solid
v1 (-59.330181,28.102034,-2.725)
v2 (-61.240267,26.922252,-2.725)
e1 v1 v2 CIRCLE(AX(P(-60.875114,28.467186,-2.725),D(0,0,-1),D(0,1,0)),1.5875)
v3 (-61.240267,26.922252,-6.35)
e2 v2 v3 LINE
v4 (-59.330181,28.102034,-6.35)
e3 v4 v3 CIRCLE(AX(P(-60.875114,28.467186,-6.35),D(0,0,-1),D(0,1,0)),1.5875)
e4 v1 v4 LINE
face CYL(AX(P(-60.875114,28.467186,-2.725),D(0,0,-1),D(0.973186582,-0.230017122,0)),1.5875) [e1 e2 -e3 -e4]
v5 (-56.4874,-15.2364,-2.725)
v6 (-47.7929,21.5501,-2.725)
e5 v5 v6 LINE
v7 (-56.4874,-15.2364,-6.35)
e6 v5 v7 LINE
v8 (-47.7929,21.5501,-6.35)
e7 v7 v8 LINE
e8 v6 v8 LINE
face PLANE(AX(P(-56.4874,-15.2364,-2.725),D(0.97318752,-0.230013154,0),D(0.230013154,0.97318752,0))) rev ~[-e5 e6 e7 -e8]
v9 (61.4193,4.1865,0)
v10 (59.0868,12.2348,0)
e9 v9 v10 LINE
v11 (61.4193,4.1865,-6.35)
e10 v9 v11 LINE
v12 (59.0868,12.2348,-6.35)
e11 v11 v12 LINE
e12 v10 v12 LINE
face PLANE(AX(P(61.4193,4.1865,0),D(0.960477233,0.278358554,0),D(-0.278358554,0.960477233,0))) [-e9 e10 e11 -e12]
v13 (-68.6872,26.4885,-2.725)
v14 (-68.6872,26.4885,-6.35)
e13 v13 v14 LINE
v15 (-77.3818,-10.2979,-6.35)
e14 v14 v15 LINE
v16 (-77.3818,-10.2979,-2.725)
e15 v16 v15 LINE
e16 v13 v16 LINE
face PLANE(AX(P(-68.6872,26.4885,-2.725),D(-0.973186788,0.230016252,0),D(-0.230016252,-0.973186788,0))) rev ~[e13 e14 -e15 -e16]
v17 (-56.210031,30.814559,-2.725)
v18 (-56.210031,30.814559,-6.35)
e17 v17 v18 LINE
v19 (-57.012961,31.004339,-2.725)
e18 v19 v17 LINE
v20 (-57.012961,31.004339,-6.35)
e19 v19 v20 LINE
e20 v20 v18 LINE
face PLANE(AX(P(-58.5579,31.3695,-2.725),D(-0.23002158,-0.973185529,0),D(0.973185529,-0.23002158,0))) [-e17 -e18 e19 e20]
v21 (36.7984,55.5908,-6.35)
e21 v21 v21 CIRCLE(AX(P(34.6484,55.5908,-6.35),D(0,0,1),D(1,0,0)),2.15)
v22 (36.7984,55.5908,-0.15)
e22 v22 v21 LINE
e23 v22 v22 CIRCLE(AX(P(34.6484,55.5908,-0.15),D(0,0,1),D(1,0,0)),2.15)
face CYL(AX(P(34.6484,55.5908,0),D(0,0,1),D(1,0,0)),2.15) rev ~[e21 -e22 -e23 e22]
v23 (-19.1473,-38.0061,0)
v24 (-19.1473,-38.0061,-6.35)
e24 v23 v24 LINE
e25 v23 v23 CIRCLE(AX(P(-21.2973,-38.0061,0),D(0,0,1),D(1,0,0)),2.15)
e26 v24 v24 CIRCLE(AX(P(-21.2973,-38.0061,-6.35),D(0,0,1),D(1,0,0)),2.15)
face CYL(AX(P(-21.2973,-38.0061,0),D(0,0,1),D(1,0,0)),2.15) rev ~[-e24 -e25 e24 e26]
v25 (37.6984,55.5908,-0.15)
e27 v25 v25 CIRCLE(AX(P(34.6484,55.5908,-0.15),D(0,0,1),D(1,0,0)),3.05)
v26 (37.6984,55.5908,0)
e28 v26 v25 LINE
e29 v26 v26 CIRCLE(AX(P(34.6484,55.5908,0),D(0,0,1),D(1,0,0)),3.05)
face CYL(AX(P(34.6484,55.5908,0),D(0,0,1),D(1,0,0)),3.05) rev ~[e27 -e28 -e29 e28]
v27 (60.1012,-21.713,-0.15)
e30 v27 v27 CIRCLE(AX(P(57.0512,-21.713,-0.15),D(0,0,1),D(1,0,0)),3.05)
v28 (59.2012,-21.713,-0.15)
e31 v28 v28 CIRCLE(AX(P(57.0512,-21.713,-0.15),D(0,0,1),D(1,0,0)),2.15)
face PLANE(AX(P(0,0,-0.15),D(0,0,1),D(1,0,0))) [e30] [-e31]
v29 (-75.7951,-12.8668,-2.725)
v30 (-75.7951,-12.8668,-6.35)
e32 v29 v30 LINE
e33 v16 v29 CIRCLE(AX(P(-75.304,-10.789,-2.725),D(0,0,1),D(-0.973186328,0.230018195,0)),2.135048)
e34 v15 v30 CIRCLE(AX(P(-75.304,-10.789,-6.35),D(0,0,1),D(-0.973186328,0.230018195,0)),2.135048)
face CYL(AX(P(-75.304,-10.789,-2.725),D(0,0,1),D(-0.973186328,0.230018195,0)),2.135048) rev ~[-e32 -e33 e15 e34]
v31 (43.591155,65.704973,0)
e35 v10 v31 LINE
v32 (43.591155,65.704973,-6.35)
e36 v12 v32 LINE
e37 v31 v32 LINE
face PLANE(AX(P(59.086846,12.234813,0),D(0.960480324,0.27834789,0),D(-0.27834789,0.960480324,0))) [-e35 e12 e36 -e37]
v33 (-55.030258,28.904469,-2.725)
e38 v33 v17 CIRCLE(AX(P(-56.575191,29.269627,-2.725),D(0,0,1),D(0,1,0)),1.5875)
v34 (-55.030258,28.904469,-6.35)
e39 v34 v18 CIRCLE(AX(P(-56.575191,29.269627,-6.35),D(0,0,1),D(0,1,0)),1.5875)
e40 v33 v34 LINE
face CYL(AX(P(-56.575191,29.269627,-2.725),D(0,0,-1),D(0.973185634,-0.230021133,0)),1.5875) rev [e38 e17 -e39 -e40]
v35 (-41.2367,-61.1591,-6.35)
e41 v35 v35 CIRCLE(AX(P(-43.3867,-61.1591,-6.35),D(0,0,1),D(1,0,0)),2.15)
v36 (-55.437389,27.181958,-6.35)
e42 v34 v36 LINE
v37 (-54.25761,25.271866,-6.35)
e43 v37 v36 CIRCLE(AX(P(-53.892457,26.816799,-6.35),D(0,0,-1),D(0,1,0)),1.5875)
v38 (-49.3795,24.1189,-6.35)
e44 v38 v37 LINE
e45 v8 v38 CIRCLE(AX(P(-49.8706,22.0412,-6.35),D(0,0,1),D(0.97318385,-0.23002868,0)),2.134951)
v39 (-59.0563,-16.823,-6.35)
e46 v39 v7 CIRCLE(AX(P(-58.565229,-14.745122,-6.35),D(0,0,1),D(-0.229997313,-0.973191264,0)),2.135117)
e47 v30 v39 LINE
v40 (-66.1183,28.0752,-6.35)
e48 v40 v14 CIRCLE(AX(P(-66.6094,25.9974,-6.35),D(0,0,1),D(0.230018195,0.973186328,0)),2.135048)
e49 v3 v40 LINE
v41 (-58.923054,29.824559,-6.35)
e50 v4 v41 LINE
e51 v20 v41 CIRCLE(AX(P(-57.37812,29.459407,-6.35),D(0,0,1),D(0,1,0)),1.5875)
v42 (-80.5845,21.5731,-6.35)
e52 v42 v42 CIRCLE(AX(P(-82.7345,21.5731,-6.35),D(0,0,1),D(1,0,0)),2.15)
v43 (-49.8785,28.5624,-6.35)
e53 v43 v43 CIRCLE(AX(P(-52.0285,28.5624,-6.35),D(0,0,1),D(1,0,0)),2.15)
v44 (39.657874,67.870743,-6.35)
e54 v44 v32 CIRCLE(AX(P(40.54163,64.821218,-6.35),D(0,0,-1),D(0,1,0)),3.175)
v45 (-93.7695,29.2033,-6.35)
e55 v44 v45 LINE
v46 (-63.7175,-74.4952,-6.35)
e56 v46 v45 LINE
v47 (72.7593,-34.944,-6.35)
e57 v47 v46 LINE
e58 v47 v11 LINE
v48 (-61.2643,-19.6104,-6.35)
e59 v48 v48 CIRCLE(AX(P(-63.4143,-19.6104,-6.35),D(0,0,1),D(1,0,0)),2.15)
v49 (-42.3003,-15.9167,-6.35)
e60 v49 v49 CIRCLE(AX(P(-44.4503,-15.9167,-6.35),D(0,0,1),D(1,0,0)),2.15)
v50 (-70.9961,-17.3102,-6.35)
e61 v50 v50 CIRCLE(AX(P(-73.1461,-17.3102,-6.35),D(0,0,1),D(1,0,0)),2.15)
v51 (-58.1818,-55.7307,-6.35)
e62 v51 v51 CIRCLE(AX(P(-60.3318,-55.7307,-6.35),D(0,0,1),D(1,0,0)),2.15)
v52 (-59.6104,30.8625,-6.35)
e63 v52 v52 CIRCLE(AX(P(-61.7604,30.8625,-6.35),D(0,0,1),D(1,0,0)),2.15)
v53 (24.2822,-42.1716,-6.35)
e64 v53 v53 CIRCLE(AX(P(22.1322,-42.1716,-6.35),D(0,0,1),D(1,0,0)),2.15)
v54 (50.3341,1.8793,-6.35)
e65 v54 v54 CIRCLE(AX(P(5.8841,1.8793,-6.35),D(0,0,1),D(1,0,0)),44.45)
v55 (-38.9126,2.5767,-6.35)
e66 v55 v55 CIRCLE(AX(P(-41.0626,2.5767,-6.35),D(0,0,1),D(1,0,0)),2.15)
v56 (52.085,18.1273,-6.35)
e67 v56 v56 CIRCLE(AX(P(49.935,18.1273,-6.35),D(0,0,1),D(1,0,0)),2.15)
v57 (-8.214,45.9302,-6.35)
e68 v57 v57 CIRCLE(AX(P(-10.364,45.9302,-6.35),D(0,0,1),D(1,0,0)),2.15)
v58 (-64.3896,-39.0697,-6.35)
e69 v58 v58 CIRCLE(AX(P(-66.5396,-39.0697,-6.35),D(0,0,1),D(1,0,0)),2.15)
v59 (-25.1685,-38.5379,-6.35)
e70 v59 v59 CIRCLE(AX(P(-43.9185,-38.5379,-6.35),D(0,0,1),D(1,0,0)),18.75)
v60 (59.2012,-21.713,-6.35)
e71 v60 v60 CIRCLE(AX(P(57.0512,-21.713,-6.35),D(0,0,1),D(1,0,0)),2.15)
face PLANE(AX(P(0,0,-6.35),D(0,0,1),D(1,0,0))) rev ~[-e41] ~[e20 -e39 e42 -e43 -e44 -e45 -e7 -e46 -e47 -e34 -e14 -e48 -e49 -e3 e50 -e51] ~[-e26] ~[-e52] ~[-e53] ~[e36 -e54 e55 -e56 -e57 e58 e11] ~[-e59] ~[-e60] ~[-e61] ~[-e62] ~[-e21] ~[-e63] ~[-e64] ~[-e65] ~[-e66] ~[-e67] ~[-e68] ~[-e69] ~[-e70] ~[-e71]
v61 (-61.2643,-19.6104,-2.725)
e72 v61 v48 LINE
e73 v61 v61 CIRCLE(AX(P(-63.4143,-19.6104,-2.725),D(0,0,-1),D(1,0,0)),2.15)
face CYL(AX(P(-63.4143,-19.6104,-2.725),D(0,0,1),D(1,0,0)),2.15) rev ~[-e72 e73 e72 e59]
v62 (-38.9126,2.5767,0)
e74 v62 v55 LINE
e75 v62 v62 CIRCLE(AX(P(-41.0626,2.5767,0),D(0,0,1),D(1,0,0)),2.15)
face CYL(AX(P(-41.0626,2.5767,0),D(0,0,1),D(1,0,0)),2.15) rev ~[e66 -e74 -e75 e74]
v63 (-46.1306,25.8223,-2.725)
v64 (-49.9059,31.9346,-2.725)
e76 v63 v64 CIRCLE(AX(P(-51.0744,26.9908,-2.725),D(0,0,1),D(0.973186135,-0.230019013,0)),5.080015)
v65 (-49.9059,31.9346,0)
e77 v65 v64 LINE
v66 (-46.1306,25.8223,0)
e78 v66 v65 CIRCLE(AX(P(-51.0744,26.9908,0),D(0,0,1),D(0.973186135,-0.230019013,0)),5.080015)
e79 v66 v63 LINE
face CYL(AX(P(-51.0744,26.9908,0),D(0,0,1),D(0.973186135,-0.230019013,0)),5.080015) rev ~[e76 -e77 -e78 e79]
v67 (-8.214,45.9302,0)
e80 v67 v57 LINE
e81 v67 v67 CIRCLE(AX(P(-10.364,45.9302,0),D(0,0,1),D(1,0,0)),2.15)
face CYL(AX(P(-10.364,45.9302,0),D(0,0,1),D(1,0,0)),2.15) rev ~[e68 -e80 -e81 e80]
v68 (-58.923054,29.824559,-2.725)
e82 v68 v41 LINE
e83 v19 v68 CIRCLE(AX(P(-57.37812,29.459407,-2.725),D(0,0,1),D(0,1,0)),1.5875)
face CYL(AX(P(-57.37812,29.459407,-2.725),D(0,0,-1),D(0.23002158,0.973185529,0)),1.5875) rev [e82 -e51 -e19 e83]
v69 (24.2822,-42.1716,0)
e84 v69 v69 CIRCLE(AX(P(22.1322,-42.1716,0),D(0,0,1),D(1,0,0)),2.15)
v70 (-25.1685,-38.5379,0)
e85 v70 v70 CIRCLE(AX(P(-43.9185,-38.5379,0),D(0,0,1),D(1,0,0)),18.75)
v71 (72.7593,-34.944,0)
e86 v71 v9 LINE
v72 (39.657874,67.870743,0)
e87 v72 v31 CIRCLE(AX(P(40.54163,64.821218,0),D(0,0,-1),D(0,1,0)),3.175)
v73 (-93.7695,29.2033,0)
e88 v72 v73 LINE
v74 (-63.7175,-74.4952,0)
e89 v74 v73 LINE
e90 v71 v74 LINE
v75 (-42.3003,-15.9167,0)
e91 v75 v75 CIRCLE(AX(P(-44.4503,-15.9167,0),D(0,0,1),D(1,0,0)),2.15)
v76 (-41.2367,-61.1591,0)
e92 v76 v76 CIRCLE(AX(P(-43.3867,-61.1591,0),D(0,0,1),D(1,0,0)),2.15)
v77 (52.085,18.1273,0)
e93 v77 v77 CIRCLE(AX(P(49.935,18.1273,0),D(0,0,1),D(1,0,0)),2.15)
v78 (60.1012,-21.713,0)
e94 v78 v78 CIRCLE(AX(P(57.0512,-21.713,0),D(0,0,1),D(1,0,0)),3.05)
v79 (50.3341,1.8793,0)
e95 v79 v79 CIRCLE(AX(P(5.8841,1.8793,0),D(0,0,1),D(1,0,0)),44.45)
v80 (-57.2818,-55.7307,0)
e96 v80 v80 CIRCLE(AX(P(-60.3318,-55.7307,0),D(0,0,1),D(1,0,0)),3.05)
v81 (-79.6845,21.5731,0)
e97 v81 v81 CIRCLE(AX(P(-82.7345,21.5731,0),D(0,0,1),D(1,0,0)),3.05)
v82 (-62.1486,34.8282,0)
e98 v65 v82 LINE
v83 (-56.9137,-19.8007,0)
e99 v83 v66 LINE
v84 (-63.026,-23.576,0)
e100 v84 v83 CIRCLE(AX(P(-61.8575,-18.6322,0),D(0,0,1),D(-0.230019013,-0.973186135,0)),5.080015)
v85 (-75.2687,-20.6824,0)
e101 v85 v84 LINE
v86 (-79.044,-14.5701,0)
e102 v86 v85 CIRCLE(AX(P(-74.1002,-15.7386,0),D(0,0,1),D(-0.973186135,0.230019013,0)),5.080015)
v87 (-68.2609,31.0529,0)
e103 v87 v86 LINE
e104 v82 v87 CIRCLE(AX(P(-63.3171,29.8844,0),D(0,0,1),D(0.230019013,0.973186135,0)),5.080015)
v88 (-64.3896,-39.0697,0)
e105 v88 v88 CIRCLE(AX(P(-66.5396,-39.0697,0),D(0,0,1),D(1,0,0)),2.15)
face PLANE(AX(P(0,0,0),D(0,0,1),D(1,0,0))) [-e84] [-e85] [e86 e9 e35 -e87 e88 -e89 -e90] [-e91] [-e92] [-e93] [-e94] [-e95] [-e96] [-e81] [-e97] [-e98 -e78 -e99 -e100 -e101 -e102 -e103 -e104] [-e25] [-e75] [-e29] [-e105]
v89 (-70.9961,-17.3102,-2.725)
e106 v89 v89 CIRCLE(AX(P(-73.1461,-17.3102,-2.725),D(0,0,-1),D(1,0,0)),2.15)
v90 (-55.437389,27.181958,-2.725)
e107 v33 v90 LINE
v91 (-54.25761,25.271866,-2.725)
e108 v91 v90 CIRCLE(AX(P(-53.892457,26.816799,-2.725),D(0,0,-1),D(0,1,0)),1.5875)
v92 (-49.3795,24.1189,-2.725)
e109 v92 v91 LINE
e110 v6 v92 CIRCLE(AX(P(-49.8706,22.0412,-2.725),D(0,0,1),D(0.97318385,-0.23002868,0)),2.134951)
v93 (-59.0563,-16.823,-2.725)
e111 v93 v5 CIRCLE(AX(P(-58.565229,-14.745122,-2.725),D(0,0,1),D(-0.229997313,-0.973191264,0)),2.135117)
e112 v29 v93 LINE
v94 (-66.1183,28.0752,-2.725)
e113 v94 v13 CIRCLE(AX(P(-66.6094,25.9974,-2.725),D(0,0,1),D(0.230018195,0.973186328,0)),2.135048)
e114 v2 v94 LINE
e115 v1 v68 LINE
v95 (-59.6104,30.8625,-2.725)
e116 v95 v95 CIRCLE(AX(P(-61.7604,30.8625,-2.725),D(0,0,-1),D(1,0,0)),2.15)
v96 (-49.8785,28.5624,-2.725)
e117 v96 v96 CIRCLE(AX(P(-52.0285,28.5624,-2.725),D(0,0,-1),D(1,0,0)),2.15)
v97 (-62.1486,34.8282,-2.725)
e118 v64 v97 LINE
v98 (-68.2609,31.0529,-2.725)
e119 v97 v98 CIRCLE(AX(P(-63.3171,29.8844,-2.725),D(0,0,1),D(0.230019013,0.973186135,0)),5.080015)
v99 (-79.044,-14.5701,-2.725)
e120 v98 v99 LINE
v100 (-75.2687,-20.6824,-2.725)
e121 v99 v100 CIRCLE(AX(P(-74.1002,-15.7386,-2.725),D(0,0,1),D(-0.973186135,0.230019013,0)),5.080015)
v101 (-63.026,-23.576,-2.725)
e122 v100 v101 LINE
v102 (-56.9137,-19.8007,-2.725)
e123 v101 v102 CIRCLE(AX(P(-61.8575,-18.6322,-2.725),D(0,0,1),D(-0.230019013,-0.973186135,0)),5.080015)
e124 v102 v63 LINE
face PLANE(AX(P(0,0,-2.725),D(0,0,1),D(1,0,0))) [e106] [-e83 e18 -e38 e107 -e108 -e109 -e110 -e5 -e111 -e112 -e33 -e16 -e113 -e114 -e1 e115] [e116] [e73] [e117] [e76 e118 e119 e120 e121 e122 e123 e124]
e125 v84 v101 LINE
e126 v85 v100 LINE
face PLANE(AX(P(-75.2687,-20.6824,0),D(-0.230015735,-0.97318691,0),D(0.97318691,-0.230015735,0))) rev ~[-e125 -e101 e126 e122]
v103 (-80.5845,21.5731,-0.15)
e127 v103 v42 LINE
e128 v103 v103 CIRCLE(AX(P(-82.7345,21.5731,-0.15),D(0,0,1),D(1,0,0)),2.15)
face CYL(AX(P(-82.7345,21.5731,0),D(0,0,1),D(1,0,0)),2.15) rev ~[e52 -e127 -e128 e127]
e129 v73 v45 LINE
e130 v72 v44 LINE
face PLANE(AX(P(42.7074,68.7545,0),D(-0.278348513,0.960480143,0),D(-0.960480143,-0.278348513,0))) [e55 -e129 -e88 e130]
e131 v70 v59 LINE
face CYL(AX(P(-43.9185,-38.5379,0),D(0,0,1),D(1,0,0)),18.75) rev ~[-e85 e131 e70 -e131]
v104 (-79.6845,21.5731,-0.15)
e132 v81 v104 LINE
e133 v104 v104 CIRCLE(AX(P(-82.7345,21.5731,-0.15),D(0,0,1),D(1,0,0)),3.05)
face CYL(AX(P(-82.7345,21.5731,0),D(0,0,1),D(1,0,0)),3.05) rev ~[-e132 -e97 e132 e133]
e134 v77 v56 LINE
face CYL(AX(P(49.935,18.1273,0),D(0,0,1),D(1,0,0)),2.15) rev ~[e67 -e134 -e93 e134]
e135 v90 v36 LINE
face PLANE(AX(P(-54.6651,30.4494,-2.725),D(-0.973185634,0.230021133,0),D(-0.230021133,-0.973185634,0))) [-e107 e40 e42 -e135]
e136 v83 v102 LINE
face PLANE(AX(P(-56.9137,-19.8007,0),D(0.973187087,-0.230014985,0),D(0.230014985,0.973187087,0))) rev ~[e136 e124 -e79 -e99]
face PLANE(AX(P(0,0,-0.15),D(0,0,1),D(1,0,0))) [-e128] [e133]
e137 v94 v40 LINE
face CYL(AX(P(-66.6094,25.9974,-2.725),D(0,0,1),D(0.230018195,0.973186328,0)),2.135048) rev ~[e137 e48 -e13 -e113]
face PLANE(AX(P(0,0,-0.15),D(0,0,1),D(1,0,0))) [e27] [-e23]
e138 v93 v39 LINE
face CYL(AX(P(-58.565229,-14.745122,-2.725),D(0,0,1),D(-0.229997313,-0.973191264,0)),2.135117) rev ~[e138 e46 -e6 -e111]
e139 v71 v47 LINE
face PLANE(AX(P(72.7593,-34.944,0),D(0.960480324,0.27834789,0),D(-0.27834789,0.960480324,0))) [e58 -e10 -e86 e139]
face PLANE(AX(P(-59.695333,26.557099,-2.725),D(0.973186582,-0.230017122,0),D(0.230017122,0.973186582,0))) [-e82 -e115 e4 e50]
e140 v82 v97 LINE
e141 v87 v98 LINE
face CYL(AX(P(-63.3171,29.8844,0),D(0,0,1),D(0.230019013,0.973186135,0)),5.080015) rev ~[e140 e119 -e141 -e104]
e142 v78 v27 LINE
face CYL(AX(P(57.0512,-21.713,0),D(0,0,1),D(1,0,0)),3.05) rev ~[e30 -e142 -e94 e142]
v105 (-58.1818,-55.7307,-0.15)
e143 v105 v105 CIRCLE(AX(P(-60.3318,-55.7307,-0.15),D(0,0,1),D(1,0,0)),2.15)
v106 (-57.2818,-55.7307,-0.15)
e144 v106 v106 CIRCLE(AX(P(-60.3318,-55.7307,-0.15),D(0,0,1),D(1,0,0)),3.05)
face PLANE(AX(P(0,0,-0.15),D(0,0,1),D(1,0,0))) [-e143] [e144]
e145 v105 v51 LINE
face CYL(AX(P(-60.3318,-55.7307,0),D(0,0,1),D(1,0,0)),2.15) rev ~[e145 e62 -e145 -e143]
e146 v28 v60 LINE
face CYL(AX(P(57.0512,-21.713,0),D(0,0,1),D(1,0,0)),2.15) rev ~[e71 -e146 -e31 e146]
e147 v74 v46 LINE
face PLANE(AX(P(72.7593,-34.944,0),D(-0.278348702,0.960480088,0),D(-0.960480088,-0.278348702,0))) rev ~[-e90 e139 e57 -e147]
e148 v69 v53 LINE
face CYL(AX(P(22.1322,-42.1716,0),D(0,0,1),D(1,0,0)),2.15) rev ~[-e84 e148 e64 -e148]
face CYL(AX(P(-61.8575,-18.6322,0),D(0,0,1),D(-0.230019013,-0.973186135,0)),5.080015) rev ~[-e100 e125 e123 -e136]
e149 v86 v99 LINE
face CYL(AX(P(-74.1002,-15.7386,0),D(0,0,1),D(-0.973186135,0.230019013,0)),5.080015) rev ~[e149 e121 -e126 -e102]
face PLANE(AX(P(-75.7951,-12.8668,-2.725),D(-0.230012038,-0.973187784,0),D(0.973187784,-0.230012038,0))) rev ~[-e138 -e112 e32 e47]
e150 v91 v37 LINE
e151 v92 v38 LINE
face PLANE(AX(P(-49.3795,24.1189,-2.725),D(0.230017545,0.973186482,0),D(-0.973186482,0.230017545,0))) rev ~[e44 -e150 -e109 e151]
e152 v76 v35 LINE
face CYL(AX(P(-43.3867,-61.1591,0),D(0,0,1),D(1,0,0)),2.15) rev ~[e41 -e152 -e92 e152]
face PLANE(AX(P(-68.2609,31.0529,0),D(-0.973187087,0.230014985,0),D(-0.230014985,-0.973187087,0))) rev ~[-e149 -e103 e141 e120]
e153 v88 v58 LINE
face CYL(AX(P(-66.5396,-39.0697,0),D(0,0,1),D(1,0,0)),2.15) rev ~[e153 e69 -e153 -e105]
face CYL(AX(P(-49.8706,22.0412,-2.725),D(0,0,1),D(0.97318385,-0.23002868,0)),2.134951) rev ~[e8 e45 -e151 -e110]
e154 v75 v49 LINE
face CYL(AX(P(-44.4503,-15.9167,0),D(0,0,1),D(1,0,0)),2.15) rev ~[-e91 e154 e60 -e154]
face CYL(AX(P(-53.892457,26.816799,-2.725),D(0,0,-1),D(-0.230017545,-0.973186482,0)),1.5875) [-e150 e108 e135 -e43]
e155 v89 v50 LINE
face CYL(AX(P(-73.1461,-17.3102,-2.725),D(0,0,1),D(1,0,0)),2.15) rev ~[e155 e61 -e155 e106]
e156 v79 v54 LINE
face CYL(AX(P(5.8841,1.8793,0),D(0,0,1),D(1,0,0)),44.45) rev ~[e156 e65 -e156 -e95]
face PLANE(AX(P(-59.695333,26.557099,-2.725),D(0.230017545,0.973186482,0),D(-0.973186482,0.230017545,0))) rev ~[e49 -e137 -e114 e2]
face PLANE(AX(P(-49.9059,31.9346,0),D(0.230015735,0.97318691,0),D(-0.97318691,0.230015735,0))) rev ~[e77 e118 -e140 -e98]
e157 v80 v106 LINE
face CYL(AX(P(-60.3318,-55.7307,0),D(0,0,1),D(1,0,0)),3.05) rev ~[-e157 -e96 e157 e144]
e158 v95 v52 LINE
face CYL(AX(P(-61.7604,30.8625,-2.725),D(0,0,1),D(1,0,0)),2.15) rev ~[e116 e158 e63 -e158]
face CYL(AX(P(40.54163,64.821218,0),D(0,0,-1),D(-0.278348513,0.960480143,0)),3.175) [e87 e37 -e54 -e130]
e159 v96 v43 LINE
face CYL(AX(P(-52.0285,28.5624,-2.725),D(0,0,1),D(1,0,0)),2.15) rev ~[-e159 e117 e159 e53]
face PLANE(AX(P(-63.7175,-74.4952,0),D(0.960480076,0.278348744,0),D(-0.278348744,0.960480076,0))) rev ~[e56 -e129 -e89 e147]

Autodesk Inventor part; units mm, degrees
ref_plane "YZ Plane" through (0, 0, 0) normal (1, 0, 0) x (0, 1, 0)
ref_plane "XZ Plane" through (0, 0, 0) normal (0, 1, 0) x (-1, 0, 0)
ref_plane "XY Plane" through (0, 0, 0) normal (0, 0, 1) x (1, 0, 0)
sketch "Sketch1" plane through (0, 0, 0) normal (0, 0, 1) x (1, 0, 0)
  circle A0 centre (49.935, 18.1273) radius 2.15 projected
  circle A1 centre (22.1322, -42.1716) radius 2.15 projected
  circle A2 centre (-10.364, 45.9302) radius 2.15 projected
  circle A3 centre (-21.2973, -38.0061) radius 2 construction
  circle A4 centre (-43.3867, -61.1591) radius 2 construction
  circle A5 centre (-66.5396, -39.0697) radius 2 construction
  circle A6 centre (-44.4503, -15.9167) radius 2 construction
  circle A7 centre (-21.2973, -38.0061) radius 2.15
  circle A8 centre (-43.3867, -61.1591) radius 2.15
  circle A9 centre (-66.5396, -39.0697) radius 2.15
  circle A10 centre (-44.4503, -15.9167) radius 2.15
  line L0 (72.7593, -34.944) -> (-63.7175, -74.4952)
  circle A11 centre (22.1322, -42.1716) radius 7.15 construction
  circle A12 centre (-43.3867, -61.1591) radius 7.15 construction
  circle A13 centre (49.935, 18.1273) radius 7.15 construction
  circle A14 centre (-10.364, 45.9302) radius 7.15 construction
  line L1 (72.7593, -34.944) -> (42.7074, 68.7545)
  line L2 (61.4193, 4.1865) -> (59.0868, 12.2348)
  line L3 (42.7074, 68.7545) -> (-93.7695, 29.2033)
  circle A15 centre (-66.5396, -39.0697) radius 7.15 construction
  line L4 (-63.7175, -74.4952) -> (-93.7695, 29.2033)
  arc A16 (26.2989, -37.6054) -> (49.1681, 11.9935) centre (5.8841, 1.8793) ccw construction
  circle A17 centre (5.8841, 1.8793) radius 44.45
  arc A18 (-43.4778, -57.2827) -> (-49.2361, -56.518) centre (-43.9185, -38.5379) ccw construction
  circle A19 centre (-43.9185, -38.5379) radius 18.75
  circle A20 centre (-41.0626, 2.5767) radius 2.15 projected
  point P0 (0, 0)
  dimension "d4" = 4.3
  dimension "d5" = 4.3
  dimension "d6" = 4.3
  dimension "d7" = 4.3
  dimension "d8" = 5
  dimension "d10" = 0
  dimension "d11" = 5
  dimension "d12" = 5
  dimension "d13" = 0
  dimension "d14" = 5
  dimension "d15" = 5
extrude "Extrusion1" add sketch "Sketch1" against normal blind 6.35
sketch "Sketch3" plane through (0, 0, 0) normal (0, 0, 1) x (1, 0, 0)
  line L0 (-61.3029, 24.5377) -> (-55.2691, 23.1116)
  line L1 (-55.2691, 23.1116) -> (-55.1667, 23.5451)
  arc A0 (-55.1667, 23.5451) -> (-61.2004, 24.9712) centre (-59.9421, 16.8177) ccw
  line L2 (-61.2004, 24.9712) -> (-61.3029, 24.5377)
  arc A1 (-66.2644, 27.4572) -> (-68.0692, 26.3425) centre (-66.6094, 25.9974) ccw
  line L3 (-66.2644, 27.4572) -> (-49.5256, 23.501)
  arc A2 (-48.4108, 21.6962) -> (-49.5256, 23.501) centre (-49.8706, 22.0412) ccw
  line L4 (-48.4108, 21.6962) -> (-57.1054, -15.0903)
  arc A3 (-58.9102, -16.2051) -> (-57.1054, -15.0903) centre (-58.5652, -14.7453) ccw
  line L5 (-58.9102, -16.2051) -> (-75.649, -12.2488)
  arc A4 (-76.7638, -10.444) -> (-75.649, -12.2488) centre (-75.304, -10.789) ccw
  line L6 (-76.7638, -10.444) -> (-68.0692, 26.3425)
  line L7 (-48.0658, 23.1559) -> (-67.7242, 27.8022)
  line L8 (-67.7242, 27.8022) -> (-66.1486, 34.4686)
  line L9 (-66.1486, 34.4686) -> (-46.4902, 29.8223)
  line L10 (-46.4902, 29.8223) -> (-48.0658, 23.1559)
  line L11 (-48.0658, 23.1559) -> (-48.4722, 21.4367)
  line L12 (-67.7242, 27.8022) -> (-68.3933, 24.9712)
  line L13 (-52.7581, 3.3029) -> (-72.4165, 7.9492) construction
  line L14 (-75.649, -12.2488) -> (-58.9102, -16.2051)
  line L15 (-57.4504, -16.5501) -> (-77.1088, -11.9038)
  line L16 (-77.1088, -11.9038) -> (-78.6844, -18.5701)
  line L17 (-78.6844, -18.5701) -> (-59.026, -23.2164)
  line L18 (-59.026, -23.2164) -> (-57.4504, -16.5501)
  line L19 (-57.4504, -16.5501) -> (-57.1054, -15.0903)
  line L20 (-77.1088, -11.9038) -> (-76.7638, -10.444)
  line L21 (-59.026, -23.2164) -> (-78.6844, -18.5701)
  line L22 (-78.6844, -18.5701) -> (-66.1486, 34.4686)
  line L23 (-66.1486, 34.4686) -> (-46.4902, 29.8223)
  line L24 (-46.4902, 29.8223) -> (-59.026, -23.2164)
  line L25 (-56.9137, -19.8007) -> (-46.1306, 25.8223)
  line L26 (-49.9059, 31.9346) -> (-62.1486, 34.8282)
  line L27 (-68.2609, 31.0529) -> (-79.044, -14.5701)
  line L28 (-75.2687, -20.6824) -> (-63.026, -23.576)
  arc A5 (-46.1306, 25.8223) -> (-49.9059, 31.9346) centre (-51.0744, 26.9908) ccw
  arc A6 (-62.1486, 34.8282) -> (-68.2609, 31.0529) centre (-63.3171, 29.8844) ccw
  arc A7 (-63.026, -23.576) -> (-56.9137, -19.8007) centre (-61.8575, -18.6322) ccw
  arc A8 (-79.044, -14.5701) -> (-75.2687, -20.6824) centre (-74.1002, -15.7386) ccw
  point P0 (0, 0)
  point P1 (-58.0822, -24.7445)
  point P2 (-44.9621, 30.7661)
  point P3 (-67.0924, 35.9966)
  point P4 (-80.2125, -19.5139)
  point P5 (-66.2644, 27.4572)
  point P6 (-46.5937, 29.3844)
  point P7 (-46.928, 29.9257)
  point P8 (-65.7107, 34.3651)
  point P9 (-66.2521, 34.0307)
  point P10 (-78.5809, -18.1323)
  point P11 (-78.2466, -18.6736)
  point P12 (-59.4639, -23.1129)
  point P13 (-58.9226, -22.7786)
  dimension "d18" = 6.85
  dimension "d19" = 0
  dimension "d20" = 0
  dimension "d23" = 1.27
  dimension "d24" = 1.27
  dimension "d25" = 9.62
  dimension "d26" = 21.47
  dimension "d27" = 8.12
  dimension "d28" = 5.08
extrude "Extrusion2" cut sketch "Sketch3" against normal blind 2.725 contours L2 A0 L1 L0 | L3 A2 L4 A3 L5 A4 L6 A1 | L7 L8 A6 L9 A5 L10 L3 | A1 L12 L7 | L6 L20 L16 A8 L27 A6 L8 L12 | L7 L11 A2 | L11 L10 A5 L25 A7 L18 L19 L4 | A4 L15 L20 | A6 L26 A5 L9 | L5 L15 L18 A7 L17 A8 L16 | L19 L15 A3 | L17 A7 L28 A8
sketch "Sketch4" plane through (0, 0, -2.725) normal (0, 0, 1) x (1, 0, 0)
  line L0 (-61.3029, 24.5377) -> (-55.2691, 23.1116) construction
  line L1 (-55.2691, 23.1116) -> (-55.1667, 23.5451) construction
  arc A0 (-55.1667, 23.5451) -> (-61.2004, 24.9712) centre (-59.9421, 16.8177) ccw construction
  line L2 (-61.2004, 24.9712) -> (-61.3029, 24.5377) construction
  line L3 (-66.2644, 27.4572) -> (-49.5256, 23.501)
  arc A1 (-48.4108, 21.6962) -> (-49.5256, 23.501) centre (-49.8706, 22.0412) ccw construction
  line L4 (-46.9502, 27.8759) -> (-48.4108, 21.6962) construction
  arc A2 (-46.9502, 27.8759) -> (-48.4366, 30.2823) centre (-48.8966, 28.3359) ccw construction
  line L5 (-49.9937, 30.6503) -> (-48.4366, 30.2823) construction
  line L6 (-50.1677, 29.9142) -> (-49.9937, 30.6503) construction
  arc A3 (-53.0872, 30.6042) -> (-50.1677, 29.9142) centre (-52.0285, 28.5624) ccw construction
  line L7 (-52.9132, 31.3404) -> (-53.0872, 30.6042) construction
  line L8 (-59.7255, 32.9505) -> (-52.9132, 31.3404) construction
  line L9 (-59.8995, 32.2143) -> (-59.7255, 32.9505) construction
  arc A4 (-62.8191, 32.9044) -> (-59.8995, 32.2143) centre (-61.7604, 30.8625) ccw construction
  line L10 (-62.6451, 33.6405) -> (-62.8191, 32.9044) construction
  line L11 (-64.2022, 34.0085) -> (-62.6451, 33.6405) construction
  arc A5 (-64.2022, 34.0085) -> (-66.6086, 32.5222) centre (-64.6622, 32.0622) ccw construction
  line L12 (-68.0692, 26.3425) -> (-66.6086, 32.5222) construction
  arc A6 (-66.2644, 27.4572) -> (-68.0692, 26.3425) centre (-66.6094, 25.9974) ccw construction
  line L13 (-48.4108, 21.6962) -> (-57.1054, -15.0903) construction
  arc A7 (-60.9724, -22.7564) -> (-58.566, -21.2701) centre (-60.5124, -20.81) ccw construction
  line L14 (-60.9724, -22.7564) -> (-62.5295, -22.3884) construction
  line L15 (-62.5295, -22.3884) -> (-62.3555, -21.6522) construction
  arc A8 (-62.3555, -21.6522) -> (-65.2751, -20.9622) centre (-63.4143, -19.6104) ccw construction
  line L16 (-65.2751, -20.9622) -> (-65.4491, -21.6983) construction
  line L17 (-65.4491, -21.6983) -> (-72.2614, -20.0882) construction
  line L18 (-72.2614, -20.0882) -> (-72.0874, -19.3521) construction
  arc A9 (-72.0874, -19.3521) -> (-75.007, -18.662) centre (-73.1461, -17.3102) ccw construction
  line L19 (-75.007, -18.662) -> (-75.181, -19.3982) construction
  line L20 (-75.181, -19.3982) -> (-76.738, -19.0301) construction
  arc A10 (-78.2244, -16.6237) -> (-76.738, -19.0301) centre (-76.278, -17.0838) ccw construction
  line L21 (-78.2244, -16.6237) -> (-76.7638, -10.444) construction
  line L22 (-76.7638, -10.444) -> (-68.0692, 26.3425) construction
  arc A11 (-58.9102, -16.2051) -> (-57.1054, -15.0903) centre (-58.5652, -14.7453) ccw construction
  line L23 (-58.9102, -16.2051) -> (-75.649, -12.2488) construction
  arc A12 (-76.7638, -10.444) -> (-75.649, -12.2488) centre (-75.304, -10.789) ccw construction
  circle A13 centre (-52.0285, 28.5624) radius 2.15
  circle A14 centre (-61.7604, 30.8625) radius 2.15
  circle A15 centre (-63.4143, -19.6104) radius 2.15
  circle A16 centre (-73.1461, -17.3102) radius 2.15
  line L24 (-54.4118, 21.5218) -> (-54.1473, 22.641) construction
  line L25 (-62.5167, 24.6191) -> (-62.7812, 23.4999) construction
  circle A17 centre (-52.0285, 28.5624) radius 3 construction
  circle A18 centre (-61.7604, 30.8625) radius 3 construction
  line L26 (-55.9486, 25.0191) -> (-59.8414, 25.9391) construction
  line L27 (-59.8414, 25.9391) -> (-58.5579, 31.3695)
  line L28 (-58.5579, 31.3695) -> (-54.6651, 30.4494)
  line L29 (-54.6651, 30.4494) -> (-55.9486, 25.0191)
  line L30 (-56.4874, -15.2364) -> (-47.7929, 21.5501)
  arc A19 (-47.7929, 21.5501) -> (-49.3795, 24.1189) centre (-49.8706, 22.0412) ccw
  line L31 (-49.3795, 24.1189) -> (-66.1183, 28.0752)
  arc A20 (-66.1183, 28.0752) -> (-68.6872, 26.4885) centre (-66.6094, 25.9974) ccw
  line L32 (-68.6872, 26.4885) -> (-77.3818, -10.2979)
  line L33 (-77.3818, -10.2979) -> (-78.8424, -16.4777)
  arc A21 (-78.8424, -16.4777) -> (-76.8841, -19.6481) centre (-76.278, -17.0838) ccw
  line L34 (-76.8841, -19.6481) -> (-74.709, -20.1622)
  line L35 (-74.709, -20.1622) -> (-74.3152, -18.4958)
  arc A22 (-72.6316, -18.8937) -> (-74.3152, -18.4958) centre (-73.1461, -17.3102) ccw
  line L36 (-72.6316, -18.8937) -> (-73.0254, -20.5601)
  line L37 (-73.0254, -20.5601) -> (-64.9772, -22.4624)
  line L38 (-64.9772, -22.4624) -> (-64.5833, -20.7959)
  arc A23 (-62.8997, -21.1939) -> (-64.5833, -20.7959) centre (-63.4143, -19.6104) ccw
  line L39 (-62.8997, -21.1939) -> (-63.2936, -22.8603)
  line L40 (-63.2936, -22.8603) -> (-61.1185, -23.3744)
  arc A24 (-61.1185, -23.3744) -> (-57.948, -21.4161) centre (-60.5124, -20.81) ccw
  line L41 (-75.7951, -12.8668) -> (-59.0563, -16.823)
  arc A25 (-59.0563, -16.823) -> (-56.4874, -15.2364) centre (-58.5652, -14.7453) ccw
  line L42 (-56.4874, -15.2364) -> (-47.7929, 21.5501)
  line L43 (-47.7929, 21.5501) -> (-46.3323, 27.7298)
  arc A26 (-46.3323, 27.7298) -> (-48.2905, 30.9003) centre (-48.8966, 28.3359) ccw
  line L44 (-48.2905, 30.9003) -> (-50.4656, 31.4144)
  line L45 (-50.4656, 31.4144) -> (-50.8594, 29.7479)
  arc A27 (-52.5431, 30.1459) -> (-50.8594, 29.7479) centre (-52.0285, 28.5624) ccw
  line L46 (-52.5431, 30.1459) -> (-52.1492, 31.8123)
  line L47 (-52.1492, 31.8123) -> (-60.1975, 33.7145)
  line L48 (-60.1975, 33.7145) -> (-60.5913, 32.0481)
  arc A28 (-62.2749, 32.446) -> (-60.5913, 32.0481) centre (-61.7604, 30.8625) ccw
  line L49 (-62.2749, 32.446) -> (-61.8811, 34.1124)
  line L50 (-61.8811, 34.1124) -> (-64.0561, 34.6265)
  arc A29 (-64.0561, 34.6265) -> (-67.2266, 32.6683) centre (-64.6622, 32.0622) ccw
  line L51 (-67.2266, 32.6683) -> (-68.6872, 26.4885)
  line L52 (-68.6872, 26.4885) -> (-77.3818, -10.2979)
  arc A30 (-77.3818, -10.2979) -> (-75.7951, -12.8668) centre (-75.304, -10.789) ccw
  point P0 (0, 0)
  point P1 (-56.3194, 32.1454)
  point P2 (-55.8026, 25.637)
  point P3 (-59.6953, 26.5571)
  point P4 (-74.4407, -19.0268)
  point P5 (-72.7571, -19.4247)
  point P6 (-64.7088, -21.327)
  point P7 (-63.0252, -21.7249)
  point P8 (-77.3818, -10.2979)
  dimension "d29" = 4.3
  dimension "d30" = 4.3
  dimension "d31" = 4.3
  dimension "d32" = 4.3
  dimension "d33" = 6
  dimension "d34" = 6
  dimension "d35" = 1.27
  dimension "d36" = 0
  dimension "d39" = 0.635
  dimension "d41" = 0.635
extrude "Extrusion3" cut sketch "Sketch4" against normal through all contours L27 L31 L29 L3 | L3 L29 L31 A19 L30 A25 L41 A30 L32 A20 L27 | L27 L28 L29 L31 | A15 L39 A23 L38 | L38 A23 L39 A15 | A16 L36 A22 L35 | L35 A22 L36 A16 | L49 A28 L48 A14 | A14 L48 A28 L49 | L45 A27 L46 A13 | A13 L46 A27 L45
fillet "Fillet1" radius 1.5875 4 edges at (-55.8026, 25.637, -4.5375) (-54.6651, 30.4494, -4.5375) (-58.5579, 31.3695, -4.5375) (-59.6953, 26.5571, -4.5375)
fillet "Fillet2" radius 3.175 1 edges at (42.7074, 68.7545, -3.175)
sketch "Sketch5" plane through (0, 0, 0) normal (0, 0, 1) x (1, 0, 0)
  circle A0 centre (57.0512, -21.713) radius 2.15 projected
  circle A1 centre (34.6484, 55.5908) radius 2.15 projected
  circle A2 centre (-82.7345, 21.5731) radius 2.15 projected
  circle A3 centre (-60.3318, -55.7307) radius 2.15 projected
  circle A4 centre (57.0512, -21.713) radius 3.05
  circle A5 centre (34.6484, 55.5908) radius 3.05
  circle A6 centre (-82.7345, 21.5731) radius 3.05
  circle A7 centre (-60.3318, -55.7307) radius 3.05
  point P0 (0, 0)
  dimension "d43" = 6.1
  dimension "d44" = 6.1
  dimension "d45" = 6.1
  dimension "d46" = 6.1
extrude "Extrusion4" cut sketch "Sketch5" against normal blind 0.15
sketch "Sketch6" plane through (-60.3318, -55.7307, 0) normal (0, 0, 1) x (1, 0, 0)
  circle A0 centre (-22.4027, 77.3038) radius 2.15 projected
  circle A1 centre (94.9802, 111.3215) radius 2.15 projected
  circle A2 centre (117.383, 34.0177) radius 2.15 projected
  circle A3 centre (0, 0) radius 2.15 projected
  point P0 (60.3318, 55.7307)
extrude "Extrusion5" cut sketch "Sketch6" against normal through all
properties part number "Lower_Plate"
